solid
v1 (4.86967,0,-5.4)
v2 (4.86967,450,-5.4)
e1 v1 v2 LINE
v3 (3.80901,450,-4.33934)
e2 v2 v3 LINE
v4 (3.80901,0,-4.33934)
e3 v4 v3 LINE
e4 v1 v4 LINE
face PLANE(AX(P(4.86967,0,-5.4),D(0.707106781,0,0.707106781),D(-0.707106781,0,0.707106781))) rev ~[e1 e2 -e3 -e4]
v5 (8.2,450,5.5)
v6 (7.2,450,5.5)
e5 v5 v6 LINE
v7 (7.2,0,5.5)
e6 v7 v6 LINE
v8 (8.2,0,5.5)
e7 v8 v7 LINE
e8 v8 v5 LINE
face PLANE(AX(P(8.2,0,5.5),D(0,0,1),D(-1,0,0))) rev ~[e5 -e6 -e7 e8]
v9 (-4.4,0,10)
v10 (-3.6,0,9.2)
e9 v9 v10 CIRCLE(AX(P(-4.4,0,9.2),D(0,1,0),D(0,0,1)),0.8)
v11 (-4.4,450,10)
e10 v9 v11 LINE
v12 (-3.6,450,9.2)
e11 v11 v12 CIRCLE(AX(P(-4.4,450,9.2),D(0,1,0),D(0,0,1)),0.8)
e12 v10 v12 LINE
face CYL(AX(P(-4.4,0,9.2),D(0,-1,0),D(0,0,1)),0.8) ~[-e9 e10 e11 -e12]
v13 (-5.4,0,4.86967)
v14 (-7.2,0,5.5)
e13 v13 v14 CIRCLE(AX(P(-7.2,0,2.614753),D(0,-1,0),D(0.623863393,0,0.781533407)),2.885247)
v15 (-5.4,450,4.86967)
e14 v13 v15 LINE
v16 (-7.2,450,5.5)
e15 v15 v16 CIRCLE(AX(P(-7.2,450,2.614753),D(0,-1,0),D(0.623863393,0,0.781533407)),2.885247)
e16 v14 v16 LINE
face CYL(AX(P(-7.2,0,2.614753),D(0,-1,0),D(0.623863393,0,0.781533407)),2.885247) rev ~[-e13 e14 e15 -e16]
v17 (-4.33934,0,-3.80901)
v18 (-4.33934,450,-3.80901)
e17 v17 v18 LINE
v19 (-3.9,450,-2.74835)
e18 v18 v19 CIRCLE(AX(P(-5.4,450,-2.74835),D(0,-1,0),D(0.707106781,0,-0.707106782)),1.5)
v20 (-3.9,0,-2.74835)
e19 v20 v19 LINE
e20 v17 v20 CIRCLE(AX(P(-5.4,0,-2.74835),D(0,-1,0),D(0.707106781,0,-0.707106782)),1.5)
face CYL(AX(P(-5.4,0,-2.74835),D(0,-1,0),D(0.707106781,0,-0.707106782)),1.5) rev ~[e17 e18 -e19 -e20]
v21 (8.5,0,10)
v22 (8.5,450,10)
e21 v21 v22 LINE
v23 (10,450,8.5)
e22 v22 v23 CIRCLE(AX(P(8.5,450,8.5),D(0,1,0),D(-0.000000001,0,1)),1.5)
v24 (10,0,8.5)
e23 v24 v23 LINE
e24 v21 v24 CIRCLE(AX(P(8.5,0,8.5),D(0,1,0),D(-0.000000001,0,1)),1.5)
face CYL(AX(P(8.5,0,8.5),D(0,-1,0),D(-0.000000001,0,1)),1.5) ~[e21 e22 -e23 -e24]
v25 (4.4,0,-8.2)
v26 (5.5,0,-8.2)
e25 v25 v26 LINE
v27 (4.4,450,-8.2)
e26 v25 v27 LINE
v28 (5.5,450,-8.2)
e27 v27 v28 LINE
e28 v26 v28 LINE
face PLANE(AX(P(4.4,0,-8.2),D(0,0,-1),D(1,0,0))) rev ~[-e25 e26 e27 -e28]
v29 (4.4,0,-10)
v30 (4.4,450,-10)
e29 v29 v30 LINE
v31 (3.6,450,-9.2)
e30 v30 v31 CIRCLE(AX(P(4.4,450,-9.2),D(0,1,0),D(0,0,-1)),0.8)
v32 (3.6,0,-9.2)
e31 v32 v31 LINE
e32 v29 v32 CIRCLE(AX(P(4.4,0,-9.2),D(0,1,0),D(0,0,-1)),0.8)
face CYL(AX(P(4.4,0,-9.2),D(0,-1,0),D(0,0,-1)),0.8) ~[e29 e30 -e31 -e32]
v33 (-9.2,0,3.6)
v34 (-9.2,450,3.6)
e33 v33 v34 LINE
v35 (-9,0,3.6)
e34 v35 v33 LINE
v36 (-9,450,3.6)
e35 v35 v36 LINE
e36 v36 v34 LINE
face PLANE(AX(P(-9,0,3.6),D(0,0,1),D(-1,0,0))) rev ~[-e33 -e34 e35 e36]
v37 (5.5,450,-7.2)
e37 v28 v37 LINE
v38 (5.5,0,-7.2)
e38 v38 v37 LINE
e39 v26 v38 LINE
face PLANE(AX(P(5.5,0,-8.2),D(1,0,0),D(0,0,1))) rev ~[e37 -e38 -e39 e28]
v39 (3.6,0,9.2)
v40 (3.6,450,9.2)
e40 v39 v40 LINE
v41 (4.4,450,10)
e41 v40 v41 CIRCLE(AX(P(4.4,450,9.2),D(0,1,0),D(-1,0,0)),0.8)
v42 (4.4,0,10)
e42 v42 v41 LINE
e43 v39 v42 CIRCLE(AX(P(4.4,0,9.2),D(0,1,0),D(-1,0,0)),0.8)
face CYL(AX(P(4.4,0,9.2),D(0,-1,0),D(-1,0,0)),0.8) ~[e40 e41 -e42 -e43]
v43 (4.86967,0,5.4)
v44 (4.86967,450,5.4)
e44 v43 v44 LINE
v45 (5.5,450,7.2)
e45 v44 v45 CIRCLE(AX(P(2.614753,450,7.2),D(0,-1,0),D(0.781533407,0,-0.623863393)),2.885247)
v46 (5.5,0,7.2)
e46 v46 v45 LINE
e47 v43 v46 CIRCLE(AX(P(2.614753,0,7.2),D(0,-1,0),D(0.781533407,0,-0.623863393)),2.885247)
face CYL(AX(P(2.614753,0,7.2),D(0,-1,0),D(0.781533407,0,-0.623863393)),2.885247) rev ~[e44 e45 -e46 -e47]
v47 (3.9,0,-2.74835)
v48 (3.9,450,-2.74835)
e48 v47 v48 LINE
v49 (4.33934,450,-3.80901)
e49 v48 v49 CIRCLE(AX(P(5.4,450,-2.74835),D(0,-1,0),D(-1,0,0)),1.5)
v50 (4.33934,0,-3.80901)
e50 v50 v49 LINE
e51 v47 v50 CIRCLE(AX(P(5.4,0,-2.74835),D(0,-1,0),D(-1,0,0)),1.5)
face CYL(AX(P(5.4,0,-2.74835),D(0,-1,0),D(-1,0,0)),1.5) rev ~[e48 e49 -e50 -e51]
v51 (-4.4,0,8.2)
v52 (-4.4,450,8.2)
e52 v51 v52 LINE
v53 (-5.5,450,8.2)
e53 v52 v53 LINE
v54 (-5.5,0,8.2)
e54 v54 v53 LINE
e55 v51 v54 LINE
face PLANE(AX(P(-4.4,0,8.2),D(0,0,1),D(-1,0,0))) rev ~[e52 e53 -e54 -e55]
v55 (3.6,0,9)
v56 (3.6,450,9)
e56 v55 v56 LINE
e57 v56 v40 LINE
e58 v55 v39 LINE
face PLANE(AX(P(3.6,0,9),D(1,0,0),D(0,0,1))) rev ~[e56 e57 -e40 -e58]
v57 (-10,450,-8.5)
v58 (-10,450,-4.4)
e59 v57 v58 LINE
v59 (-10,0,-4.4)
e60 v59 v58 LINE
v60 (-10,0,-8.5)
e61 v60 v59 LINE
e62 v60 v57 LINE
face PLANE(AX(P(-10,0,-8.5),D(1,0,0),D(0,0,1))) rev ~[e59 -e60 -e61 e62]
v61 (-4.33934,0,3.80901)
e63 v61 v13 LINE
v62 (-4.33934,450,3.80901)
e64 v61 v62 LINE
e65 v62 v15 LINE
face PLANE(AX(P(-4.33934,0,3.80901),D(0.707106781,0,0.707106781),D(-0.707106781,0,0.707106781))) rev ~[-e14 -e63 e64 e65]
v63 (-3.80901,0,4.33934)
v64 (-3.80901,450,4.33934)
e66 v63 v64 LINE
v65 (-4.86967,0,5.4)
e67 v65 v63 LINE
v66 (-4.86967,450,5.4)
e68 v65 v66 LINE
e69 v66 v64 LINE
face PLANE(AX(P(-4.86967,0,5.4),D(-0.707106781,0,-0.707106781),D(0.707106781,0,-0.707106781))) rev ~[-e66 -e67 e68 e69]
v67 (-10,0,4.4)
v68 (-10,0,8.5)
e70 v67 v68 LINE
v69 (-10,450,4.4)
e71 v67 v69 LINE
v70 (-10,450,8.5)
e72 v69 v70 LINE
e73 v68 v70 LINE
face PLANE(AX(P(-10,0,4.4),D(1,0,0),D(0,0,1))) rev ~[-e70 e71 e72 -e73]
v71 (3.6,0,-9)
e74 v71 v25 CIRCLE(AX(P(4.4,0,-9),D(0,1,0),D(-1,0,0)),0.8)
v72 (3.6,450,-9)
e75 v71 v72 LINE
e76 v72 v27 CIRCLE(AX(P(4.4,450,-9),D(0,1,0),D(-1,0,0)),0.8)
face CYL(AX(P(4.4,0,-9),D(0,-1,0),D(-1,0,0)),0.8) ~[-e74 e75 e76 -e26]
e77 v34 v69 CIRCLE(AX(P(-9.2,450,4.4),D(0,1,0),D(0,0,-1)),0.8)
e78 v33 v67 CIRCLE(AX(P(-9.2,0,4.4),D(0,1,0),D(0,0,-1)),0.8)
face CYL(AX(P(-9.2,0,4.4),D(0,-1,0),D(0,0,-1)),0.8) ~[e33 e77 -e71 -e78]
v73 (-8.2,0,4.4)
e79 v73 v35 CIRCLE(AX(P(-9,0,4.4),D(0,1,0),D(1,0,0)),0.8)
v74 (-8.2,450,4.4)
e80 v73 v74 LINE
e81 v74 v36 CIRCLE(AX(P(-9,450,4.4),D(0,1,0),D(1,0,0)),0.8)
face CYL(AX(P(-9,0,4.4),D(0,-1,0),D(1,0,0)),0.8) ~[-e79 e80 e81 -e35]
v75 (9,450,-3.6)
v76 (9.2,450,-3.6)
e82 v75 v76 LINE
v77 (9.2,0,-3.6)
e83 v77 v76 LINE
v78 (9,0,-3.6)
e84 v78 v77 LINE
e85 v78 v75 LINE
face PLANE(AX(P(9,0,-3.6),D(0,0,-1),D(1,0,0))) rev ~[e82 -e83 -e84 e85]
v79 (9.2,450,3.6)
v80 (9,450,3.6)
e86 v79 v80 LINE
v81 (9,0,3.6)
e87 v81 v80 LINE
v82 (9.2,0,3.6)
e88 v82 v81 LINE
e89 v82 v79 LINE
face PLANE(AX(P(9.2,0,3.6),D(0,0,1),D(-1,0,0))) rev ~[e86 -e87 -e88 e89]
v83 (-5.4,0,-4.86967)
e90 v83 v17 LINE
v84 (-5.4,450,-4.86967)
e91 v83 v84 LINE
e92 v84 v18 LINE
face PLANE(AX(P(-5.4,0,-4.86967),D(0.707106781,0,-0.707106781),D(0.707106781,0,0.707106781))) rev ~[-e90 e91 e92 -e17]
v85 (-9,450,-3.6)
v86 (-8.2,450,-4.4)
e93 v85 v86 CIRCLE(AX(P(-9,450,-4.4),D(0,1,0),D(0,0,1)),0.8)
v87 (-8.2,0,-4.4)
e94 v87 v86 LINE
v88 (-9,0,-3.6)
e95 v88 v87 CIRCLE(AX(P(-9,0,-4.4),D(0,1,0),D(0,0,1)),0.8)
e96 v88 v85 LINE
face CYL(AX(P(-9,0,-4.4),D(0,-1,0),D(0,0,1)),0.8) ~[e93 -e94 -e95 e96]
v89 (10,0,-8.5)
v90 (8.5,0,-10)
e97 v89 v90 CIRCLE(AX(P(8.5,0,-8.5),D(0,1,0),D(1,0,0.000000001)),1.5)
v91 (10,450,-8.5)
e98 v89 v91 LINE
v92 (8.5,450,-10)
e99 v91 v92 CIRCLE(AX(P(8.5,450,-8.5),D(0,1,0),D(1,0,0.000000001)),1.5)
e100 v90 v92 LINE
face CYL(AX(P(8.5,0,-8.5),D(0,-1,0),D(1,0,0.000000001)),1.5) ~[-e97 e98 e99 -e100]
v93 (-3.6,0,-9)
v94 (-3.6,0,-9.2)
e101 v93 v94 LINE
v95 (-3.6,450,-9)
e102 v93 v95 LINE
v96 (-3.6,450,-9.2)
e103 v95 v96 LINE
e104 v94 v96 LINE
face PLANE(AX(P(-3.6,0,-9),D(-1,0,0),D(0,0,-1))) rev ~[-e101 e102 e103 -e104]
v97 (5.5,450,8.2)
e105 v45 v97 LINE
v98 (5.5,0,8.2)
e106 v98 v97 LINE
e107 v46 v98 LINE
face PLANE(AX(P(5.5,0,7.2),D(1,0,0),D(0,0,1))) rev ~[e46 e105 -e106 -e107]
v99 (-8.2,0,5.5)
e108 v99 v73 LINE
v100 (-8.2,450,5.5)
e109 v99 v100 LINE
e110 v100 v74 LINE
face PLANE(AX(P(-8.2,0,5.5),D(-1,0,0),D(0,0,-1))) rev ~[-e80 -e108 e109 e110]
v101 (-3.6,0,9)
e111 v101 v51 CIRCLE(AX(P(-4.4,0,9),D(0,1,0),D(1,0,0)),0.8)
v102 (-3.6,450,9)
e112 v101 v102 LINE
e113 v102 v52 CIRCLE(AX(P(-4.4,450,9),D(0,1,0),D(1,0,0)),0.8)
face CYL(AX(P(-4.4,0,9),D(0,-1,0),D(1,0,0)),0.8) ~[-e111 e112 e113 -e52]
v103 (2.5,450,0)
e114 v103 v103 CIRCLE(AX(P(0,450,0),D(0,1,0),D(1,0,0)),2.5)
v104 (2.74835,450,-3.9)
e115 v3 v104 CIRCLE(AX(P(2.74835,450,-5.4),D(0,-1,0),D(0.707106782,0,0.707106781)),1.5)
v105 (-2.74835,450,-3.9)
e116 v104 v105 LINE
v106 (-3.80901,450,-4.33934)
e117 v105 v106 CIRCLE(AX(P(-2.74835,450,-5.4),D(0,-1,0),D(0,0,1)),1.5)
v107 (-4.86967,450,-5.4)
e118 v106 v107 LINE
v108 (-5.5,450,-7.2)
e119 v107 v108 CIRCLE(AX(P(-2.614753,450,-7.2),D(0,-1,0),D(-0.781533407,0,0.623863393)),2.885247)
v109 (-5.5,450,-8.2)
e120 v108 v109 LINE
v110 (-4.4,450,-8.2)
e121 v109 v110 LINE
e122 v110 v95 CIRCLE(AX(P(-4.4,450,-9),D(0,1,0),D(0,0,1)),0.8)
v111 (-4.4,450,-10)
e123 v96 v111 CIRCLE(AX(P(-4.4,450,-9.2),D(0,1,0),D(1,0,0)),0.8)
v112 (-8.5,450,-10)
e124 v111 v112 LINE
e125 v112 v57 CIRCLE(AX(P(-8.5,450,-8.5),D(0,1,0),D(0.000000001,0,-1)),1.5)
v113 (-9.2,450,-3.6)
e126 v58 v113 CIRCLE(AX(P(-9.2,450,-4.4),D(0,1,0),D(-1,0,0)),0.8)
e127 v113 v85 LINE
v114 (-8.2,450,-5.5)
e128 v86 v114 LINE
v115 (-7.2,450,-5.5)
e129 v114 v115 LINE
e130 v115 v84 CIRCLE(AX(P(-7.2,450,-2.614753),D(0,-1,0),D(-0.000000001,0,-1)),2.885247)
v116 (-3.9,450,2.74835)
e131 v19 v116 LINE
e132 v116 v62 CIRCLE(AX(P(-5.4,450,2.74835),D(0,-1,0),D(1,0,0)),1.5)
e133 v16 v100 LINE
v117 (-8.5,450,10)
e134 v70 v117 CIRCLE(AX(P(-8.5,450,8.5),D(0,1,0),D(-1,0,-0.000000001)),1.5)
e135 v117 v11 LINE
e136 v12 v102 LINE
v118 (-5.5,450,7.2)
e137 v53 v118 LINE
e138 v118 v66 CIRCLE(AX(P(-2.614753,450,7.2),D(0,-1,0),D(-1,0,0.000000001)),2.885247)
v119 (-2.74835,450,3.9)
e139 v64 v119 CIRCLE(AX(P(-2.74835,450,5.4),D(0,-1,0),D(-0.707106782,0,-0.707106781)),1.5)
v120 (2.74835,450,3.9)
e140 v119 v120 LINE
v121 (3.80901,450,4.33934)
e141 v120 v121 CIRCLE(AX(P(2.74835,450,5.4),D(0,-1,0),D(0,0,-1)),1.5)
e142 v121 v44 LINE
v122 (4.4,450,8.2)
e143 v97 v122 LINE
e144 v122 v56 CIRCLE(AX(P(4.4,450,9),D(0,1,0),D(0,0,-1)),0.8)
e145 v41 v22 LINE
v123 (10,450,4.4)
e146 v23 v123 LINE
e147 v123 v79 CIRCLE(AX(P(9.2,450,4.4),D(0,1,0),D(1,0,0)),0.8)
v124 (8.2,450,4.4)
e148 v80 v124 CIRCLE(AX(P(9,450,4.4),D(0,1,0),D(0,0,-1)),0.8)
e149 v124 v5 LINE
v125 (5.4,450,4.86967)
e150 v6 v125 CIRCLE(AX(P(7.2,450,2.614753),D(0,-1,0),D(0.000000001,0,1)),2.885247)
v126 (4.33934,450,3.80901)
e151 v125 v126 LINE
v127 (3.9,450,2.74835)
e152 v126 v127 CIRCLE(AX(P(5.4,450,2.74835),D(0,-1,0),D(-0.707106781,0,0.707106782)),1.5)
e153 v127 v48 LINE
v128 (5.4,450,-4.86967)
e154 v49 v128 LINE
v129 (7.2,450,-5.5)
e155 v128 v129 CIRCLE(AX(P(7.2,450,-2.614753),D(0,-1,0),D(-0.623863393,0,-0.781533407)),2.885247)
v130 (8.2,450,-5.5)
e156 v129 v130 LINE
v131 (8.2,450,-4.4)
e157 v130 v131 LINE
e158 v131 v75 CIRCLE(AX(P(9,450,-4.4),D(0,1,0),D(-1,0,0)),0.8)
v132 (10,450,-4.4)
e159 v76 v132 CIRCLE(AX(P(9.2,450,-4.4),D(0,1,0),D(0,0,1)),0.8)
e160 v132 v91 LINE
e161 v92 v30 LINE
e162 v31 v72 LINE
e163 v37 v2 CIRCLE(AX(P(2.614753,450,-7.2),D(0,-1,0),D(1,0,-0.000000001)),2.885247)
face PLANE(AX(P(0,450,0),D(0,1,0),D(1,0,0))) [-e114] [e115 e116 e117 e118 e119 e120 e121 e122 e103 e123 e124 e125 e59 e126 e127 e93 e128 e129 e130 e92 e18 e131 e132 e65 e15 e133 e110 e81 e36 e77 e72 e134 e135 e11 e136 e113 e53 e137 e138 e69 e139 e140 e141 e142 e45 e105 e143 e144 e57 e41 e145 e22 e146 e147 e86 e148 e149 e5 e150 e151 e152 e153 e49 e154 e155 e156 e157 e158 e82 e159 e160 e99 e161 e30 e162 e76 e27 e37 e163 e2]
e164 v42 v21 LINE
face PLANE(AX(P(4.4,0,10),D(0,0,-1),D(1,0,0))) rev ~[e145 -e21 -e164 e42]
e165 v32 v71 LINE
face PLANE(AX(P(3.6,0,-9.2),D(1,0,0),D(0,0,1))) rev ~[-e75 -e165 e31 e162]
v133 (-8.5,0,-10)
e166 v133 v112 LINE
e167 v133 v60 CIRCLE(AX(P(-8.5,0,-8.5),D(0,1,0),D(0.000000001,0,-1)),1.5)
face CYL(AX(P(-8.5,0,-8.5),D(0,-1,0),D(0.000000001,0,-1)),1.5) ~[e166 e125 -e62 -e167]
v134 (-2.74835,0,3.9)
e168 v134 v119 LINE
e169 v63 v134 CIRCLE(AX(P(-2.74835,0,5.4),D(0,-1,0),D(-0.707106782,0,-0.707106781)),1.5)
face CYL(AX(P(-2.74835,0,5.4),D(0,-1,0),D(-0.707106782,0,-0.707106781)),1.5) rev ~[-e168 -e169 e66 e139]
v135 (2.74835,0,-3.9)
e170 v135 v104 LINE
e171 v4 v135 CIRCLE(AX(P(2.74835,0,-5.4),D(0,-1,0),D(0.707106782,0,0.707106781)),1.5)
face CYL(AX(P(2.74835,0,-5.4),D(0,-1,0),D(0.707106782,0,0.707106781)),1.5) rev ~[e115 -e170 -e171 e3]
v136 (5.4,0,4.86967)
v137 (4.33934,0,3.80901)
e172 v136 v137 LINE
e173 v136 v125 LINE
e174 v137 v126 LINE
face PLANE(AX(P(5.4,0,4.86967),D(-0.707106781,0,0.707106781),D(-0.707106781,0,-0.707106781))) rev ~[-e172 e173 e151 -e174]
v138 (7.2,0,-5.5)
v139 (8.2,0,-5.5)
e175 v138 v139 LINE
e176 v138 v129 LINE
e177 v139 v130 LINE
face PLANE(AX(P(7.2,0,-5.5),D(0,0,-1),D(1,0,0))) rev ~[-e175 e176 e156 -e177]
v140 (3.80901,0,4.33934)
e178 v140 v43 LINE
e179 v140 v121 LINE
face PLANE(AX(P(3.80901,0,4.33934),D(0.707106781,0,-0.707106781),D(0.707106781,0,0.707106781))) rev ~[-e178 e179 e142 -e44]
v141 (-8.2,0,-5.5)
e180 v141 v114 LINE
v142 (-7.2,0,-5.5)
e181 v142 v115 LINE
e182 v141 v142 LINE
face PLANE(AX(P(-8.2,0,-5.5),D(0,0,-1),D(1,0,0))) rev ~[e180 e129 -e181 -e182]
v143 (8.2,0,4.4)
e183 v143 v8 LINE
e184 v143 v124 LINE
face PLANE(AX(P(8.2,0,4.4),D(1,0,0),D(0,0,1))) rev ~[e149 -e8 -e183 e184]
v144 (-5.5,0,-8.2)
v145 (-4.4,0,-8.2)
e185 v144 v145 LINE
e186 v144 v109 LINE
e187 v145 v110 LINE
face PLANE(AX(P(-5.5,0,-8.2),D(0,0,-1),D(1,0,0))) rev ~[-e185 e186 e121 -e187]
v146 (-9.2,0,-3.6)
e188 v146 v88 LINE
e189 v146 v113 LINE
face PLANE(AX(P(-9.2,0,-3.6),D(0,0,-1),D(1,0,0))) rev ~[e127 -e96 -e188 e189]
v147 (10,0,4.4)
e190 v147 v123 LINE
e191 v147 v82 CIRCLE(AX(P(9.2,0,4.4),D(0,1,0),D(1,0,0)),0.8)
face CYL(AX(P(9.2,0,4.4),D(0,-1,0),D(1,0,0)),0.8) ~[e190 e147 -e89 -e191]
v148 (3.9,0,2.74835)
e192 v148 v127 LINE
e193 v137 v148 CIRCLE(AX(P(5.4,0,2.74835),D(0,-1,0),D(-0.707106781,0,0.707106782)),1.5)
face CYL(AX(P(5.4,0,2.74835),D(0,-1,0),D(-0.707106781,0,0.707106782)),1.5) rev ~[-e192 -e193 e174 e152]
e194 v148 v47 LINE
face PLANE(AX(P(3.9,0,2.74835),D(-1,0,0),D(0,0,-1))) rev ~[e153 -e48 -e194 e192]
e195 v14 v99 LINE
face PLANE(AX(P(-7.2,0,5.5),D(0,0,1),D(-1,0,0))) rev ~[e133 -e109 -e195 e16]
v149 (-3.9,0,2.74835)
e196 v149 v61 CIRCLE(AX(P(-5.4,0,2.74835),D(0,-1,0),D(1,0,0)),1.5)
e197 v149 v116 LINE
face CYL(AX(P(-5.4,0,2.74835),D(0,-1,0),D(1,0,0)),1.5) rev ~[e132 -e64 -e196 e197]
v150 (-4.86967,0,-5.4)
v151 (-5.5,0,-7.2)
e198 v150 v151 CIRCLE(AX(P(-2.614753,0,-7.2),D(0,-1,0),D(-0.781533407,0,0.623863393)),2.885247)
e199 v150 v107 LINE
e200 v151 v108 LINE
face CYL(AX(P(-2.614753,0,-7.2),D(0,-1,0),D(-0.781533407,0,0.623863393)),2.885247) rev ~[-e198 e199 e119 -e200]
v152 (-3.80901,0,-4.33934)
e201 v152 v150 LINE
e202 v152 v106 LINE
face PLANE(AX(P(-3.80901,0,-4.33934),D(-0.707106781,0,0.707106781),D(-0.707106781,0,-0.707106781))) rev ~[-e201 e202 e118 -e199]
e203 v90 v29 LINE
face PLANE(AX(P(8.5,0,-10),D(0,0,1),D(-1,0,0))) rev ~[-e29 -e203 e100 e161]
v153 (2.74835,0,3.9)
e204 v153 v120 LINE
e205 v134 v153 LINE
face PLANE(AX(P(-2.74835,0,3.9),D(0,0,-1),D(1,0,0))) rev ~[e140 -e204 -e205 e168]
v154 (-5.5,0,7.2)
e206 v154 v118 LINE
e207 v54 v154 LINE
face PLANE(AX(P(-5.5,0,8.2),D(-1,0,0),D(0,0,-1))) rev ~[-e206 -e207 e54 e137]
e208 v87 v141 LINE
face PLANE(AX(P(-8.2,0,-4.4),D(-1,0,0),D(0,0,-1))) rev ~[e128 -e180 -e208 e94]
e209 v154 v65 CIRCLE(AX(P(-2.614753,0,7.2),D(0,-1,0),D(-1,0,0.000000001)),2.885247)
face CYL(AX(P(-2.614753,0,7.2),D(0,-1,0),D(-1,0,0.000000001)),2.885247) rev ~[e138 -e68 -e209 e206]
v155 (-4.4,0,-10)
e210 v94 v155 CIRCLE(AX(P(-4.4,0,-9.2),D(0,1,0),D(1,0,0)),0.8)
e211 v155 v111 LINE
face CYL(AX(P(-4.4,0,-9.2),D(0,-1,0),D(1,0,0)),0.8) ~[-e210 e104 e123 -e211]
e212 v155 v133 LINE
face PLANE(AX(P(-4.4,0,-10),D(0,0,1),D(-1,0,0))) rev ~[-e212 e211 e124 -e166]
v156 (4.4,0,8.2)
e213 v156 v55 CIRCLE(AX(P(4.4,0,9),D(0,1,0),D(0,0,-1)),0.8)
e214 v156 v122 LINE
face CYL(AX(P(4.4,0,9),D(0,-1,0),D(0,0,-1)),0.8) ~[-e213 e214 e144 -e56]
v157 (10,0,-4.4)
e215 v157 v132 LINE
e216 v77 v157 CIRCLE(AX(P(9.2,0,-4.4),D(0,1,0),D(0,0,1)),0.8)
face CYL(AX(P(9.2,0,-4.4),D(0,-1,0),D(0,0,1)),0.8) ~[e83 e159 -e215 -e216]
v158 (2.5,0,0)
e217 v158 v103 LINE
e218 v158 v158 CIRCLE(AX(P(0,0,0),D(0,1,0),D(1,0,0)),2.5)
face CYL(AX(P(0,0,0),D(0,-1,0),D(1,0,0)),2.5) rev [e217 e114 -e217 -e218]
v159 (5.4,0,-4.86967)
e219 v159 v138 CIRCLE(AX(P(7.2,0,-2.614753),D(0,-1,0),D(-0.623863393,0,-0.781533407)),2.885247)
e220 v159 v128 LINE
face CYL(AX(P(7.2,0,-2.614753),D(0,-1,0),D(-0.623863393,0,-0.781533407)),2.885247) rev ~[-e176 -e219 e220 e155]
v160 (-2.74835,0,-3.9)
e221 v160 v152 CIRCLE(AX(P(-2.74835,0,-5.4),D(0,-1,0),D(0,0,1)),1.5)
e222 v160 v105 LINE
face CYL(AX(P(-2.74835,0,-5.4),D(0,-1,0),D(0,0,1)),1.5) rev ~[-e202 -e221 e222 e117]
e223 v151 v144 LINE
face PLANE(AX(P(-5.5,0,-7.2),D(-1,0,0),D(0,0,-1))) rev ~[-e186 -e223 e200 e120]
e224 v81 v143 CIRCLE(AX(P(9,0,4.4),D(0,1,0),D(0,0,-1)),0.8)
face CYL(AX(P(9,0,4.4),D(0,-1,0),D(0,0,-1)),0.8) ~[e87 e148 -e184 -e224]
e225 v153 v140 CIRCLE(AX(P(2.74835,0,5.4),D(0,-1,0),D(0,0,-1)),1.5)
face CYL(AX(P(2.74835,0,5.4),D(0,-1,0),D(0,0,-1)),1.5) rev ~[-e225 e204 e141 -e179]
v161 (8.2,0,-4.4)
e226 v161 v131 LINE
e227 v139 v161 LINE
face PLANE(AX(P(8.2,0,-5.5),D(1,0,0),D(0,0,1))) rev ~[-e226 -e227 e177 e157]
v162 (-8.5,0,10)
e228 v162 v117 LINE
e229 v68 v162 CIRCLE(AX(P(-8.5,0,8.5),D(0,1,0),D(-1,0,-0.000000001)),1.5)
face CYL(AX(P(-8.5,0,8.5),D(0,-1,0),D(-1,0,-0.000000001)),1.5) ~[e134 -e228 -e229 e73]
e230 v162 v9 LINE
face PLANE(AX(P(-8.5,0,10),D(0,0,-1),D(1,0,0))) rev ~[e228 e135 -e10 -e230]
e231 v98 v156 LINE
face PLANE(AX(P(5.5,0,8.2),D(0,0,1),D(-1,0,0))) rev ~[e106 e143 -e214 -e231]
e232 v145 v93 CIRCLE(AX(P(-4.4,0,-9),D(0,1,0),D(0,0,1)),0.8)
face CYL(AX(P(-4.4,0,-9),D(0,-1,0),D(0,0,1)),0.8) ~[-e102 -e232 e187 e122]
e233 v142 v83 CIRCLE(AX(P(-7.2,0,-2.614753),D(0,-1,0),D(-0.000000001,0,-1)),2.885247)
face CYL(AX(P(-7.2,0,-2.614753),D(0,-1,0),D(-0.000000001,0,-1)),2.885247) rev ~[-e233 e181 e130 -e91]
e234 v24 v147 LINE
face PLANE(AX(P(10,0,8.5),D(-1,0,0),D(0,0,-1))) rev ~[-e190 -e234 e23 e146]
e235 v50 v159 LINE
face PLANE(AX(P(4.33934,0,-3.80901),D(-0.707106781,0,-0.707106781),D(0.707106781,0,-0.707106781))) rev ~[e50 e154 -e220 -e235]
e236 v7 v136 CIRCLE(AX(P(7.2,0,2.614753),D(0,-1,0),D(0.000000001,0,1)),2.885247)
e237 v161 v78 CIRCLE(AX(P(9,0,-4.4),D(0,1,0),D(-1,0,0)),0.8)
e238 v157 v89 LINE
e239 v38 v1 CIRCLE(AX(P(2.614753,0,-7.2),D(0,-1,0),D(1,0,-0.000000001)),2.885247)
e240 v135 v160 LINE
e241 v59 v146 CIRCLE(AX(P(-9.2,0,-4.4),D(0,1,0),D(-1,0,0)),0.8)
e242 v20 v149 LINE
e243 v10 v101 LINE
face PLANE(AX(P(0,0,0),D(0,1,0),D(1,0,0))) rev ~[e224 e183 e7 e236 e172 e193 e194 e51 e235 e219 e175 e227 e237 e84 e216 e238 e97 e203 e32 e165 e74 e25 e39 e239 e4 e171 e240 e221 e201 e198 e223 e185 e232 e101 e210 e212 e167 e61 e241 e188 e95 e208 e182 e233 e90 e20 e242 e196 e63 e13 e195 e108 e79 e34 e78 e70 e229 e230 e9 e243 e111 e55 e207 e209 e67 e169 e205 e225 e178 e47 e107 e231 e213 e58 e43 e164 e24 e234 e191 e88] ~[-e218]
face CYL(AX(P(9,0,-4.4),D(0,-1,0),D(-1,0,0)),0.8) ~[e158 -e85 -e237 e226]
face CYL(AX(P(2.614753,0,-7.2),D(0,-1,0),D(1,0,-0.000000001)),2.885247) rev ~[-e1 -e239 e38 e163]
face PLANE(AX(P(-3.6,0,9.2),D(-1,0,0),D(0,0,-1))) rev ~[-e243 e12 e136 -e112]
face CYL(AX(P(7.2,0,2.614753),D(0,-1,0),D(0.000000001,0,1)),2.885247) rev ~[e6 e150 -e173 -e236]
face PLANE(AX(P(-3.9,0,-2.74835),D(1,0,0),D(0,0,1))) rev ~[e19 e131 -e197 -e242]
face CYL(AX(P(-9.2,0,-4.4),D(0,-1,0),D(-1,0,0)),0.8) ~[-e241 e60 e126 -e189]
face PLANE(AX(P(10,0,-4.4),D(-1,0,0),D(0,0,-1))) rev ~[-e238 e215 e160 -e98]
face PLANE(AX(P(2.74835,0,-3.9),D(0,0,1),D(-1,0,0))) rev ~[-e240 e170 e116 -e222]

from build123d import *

# Parameters (mm, degrees)
SKETCH2_R           = 2.5
BOSS_EXTRUDE1_DEPTH = 450


with BuildPart() as part:
    # Sketch2 → Boss-Extrude1 (new body)
    with BuildSketch(Plane(origin=(0, 0, 0), x_dir=(1, 0, 0), z_dir=(0, 1, 0))):
        with BuildLine():
            Line((-5.4, 4.869669914), (-4.339339828, 3.809009742))
            ThreePointArc((-4.339339828, 3.809009742), (-4.014180701, 3.322374719), (-3.9, 2.748349571))
            Line((-3.9, 2.748349571), (-3.9, -2.748349571))
            ThreePointArc((-3.9, -2.748349571), (-4.014180701, -3.322374719), (-4.339339828, -3.809009742))
            Line((-4.339339828, -3.809009742), (-5.4, -4.869669914))
            ThreePointArc((-5.4, -4.869669914), (-6.246412561, -5.337861749), (-7.2, -5.5))
            Line((-7.2, -5.5), (-8.2, -5.5))
            Line((-8.2, -5.5), (-8.2, -4.4))
            ThreePointArc((-8.2, -4.4), (-8.434314575, -3.834314575), (-9, -3.6))
            Line((-9, -3.6), (-9.2, -3.6))
            ThreePointArc((-9.2, -3.6), (-9.765685425, -3.834314575), (-10, -4.4))
            Line((-10, -4.4), (-10, -8.5))
            ThreePointArc((-10, -8.5), (-9.560660172, -9.560660172), (-8.5, -10))
            Line((-8.5, -10), (-4.4, -10))
            ThreePointArc((-4.4, -10), (-3.834314575, -9.765685425), (-3.6, -9.2))
            Line((-3.6, -9.2), (-3.6, -9))
            ThreePointArc((-3.6, -9), (-3.834314575, -8.434314575), (-4.4, -8.2))
            Line((-4.4, -8.2), (-5.5, -8.2))
            Line((-5.5, -8.2), (-5.5, -7.2))
            ThreePointArc((-5.5, -7.2), (-5.337861749, -6.246412561), (-4.869669914, -5.4))
            Line((-4.869669914, -5.4), (-3.809009742, -4.339339828))
            ThreePointArc((-3.809009742, -4.339339828), (-3.322374719, -4.014180701), (-2.748349571, -3.9))
            Line((-2.748349571, -3.9), (2.748349571, -3.9))
            ThreePointArc((2.748349571, -3.9), (3.322374719, -4.014180701), (3.809009742, -4.339339828))
            Line((3.809009742, -4.339339828), (4.869669914, -5.4))
            ThreePointArc((4.869669914, -5.4), (5.337861749, -6.246412561), (5.5, -7.2))
            Line((5.5, -7.2), (5.5, -8.2))
            Line((5.5, -8.2), (4.4, -8.2))
            ThreePointArc((4.4, -8.2), (3.834314575, -8.434314575), (3.6, -9))
            Line((3.6, -9), (3.6, -9.2))
            ThreePointArc((3.6, -9.2), (3.834314575, -9.765685425), (4.4, -10))
            Line((4.4, -10), (8.5, -10))
            ThreePointArc((8.5, -10), (9.560660172, -9.560660172), (10, -8.5))
            Line((10, -8.5), (10, -4.4))
            ThreePointArc((10, -4.4), (9.765685425, -3.834314575), (9.2, -3.6))
            Line((9.2, -3.6), (9, -3.6))
            ThreePointArc((9, -3.6), (8.434314575, -3.834314575), (8.2, -4.4))
            Line((8.2, -4.4), (8.2, -5.5))
            Line((8.2, -5.5), (7.2, -5.5))
            ThreePointArc((7.2, -5.5), (6.246412561, -5.337861749), (5.4, -4.869669914))
            Line((5.4, -4.869669914), (4.339339828, -3.809009742))
            ThreePointArc((4.339339828, -3.809009742), (4.014180701, -3.322374719), (3.9, -2.748349571))
            Line((3.9, -2.748349571), (3.9, 2.748349571))
            ThreePointArc((3.9, 2.748349571), (4.014180701, 3.322374719), (4.339339828, 3.809009742))
            Line((4.339339828, 3.809009742), (5.4, 4.869669914))
            ThreePointArc((5.4, 4.869669914), (6.246412561, 5.337861749), (7.2, 5.5))
            Line((7.2, 5.5), (8.2, 5.5))
            Line((8.2, 5.5), (8.2, 4.4))
            ThreePointArc((8.2, 4.4), (8.434314575, 3.834314575), (9, 3.6))
            Line((9, 3.6), (9.2, 3.6))
            ThreePointArc((9.2, 3.6), (9.765685425, 3.834314575), (10, 4.4))
            Line((10, 4.4), (10, 8.5))
            ThreePointArc((10, 8.5), (9.560660172, 9.560660172), (8.5, 10))
            Line((8.5, 10), (4.4, 10))
            ThreePointArc((4.4, 10), (3.834314575, 9.765685425), (3.6, 9.2))
            Line((3.6, 9.2), (3.6, 9))
            ThreePointArc((3.6, 9), (3.834314575, 8.434314575), (4.4, 8.2))
            Line((4.4, 8.2), (5.5, 8.2))
            Line((5.5, 8.2), (5.5, 7.2))
            ThreePointArc((5.5, 7.2), (5.337861749, 6.246412561), (4.869669914, 5.4))
            Line((4.869669914, 5.4), (3.809009742, 4.339339828))
            ThreePointArc((3.809009742, 4.339339828), (3.322374719, 4.014180701), (2.748349571, 3.9))
            Line((2.748349571, 3.9), (-2.748349571, 3.9))
            ThreePointArc((-2.748349571, 3.9), (-3.322374719, 4.014180701), (-3.809009742, 4.339339828))
            Line((-3.809009742, 4.339339828), (-4.869669914, 5.4))
            ThreePointArc((-4.869669914, 5.4), (-5.337861749, 6.246412561), (-5.5, 7.2))
            Line((-5.5, 7.2), (-5.5, 8.2))
            Line((-5.5, 8.2), (-4.4, 8.2))
            ThreePointArc((-4.4, 8.2), (-3.834314575, 8.434314575), (-3.6, 9))
            Line((-3.6, 9), (-3.6, 9.2))
            ThreePointArc((-3.6, 9.2), (-3.834314575, 9.765685425), (-4.4, 10))
            Line((-4.4, 10), (-8.5, 10))
            ThreePointArc((-8.5, 10), (-9.560660172, 9.560660172), (-10, 8.5))
            Line((-10, 8.5), (-10, 4.4))
            ThreePointArc((-10, 4.4), (-9.765685425, 3.834314575), (-9.2, 3.6))
            Line((-9.2, 3.6), (-9, 3.6))
            ThreePointArc((-9, 3.6), (-8.434314575, 3.834314575), (-8.2, 4.4))
            Line((-8.2, 4.4), (-8.2, 5.5))
            Line((-8.2, 5.5), (-7.2, 5.5))
            ThreePointArc((-7.2, 5.5), (-6.246412561, 5.337861749), (-5.4, 4.869669914))
        make_face()
        Circle(SKETCH2_R, mode=Mode.SUBTRACT)
    extrude(amount=BOSS_EXTRUDE1_DEPTH)


solid = part.part
